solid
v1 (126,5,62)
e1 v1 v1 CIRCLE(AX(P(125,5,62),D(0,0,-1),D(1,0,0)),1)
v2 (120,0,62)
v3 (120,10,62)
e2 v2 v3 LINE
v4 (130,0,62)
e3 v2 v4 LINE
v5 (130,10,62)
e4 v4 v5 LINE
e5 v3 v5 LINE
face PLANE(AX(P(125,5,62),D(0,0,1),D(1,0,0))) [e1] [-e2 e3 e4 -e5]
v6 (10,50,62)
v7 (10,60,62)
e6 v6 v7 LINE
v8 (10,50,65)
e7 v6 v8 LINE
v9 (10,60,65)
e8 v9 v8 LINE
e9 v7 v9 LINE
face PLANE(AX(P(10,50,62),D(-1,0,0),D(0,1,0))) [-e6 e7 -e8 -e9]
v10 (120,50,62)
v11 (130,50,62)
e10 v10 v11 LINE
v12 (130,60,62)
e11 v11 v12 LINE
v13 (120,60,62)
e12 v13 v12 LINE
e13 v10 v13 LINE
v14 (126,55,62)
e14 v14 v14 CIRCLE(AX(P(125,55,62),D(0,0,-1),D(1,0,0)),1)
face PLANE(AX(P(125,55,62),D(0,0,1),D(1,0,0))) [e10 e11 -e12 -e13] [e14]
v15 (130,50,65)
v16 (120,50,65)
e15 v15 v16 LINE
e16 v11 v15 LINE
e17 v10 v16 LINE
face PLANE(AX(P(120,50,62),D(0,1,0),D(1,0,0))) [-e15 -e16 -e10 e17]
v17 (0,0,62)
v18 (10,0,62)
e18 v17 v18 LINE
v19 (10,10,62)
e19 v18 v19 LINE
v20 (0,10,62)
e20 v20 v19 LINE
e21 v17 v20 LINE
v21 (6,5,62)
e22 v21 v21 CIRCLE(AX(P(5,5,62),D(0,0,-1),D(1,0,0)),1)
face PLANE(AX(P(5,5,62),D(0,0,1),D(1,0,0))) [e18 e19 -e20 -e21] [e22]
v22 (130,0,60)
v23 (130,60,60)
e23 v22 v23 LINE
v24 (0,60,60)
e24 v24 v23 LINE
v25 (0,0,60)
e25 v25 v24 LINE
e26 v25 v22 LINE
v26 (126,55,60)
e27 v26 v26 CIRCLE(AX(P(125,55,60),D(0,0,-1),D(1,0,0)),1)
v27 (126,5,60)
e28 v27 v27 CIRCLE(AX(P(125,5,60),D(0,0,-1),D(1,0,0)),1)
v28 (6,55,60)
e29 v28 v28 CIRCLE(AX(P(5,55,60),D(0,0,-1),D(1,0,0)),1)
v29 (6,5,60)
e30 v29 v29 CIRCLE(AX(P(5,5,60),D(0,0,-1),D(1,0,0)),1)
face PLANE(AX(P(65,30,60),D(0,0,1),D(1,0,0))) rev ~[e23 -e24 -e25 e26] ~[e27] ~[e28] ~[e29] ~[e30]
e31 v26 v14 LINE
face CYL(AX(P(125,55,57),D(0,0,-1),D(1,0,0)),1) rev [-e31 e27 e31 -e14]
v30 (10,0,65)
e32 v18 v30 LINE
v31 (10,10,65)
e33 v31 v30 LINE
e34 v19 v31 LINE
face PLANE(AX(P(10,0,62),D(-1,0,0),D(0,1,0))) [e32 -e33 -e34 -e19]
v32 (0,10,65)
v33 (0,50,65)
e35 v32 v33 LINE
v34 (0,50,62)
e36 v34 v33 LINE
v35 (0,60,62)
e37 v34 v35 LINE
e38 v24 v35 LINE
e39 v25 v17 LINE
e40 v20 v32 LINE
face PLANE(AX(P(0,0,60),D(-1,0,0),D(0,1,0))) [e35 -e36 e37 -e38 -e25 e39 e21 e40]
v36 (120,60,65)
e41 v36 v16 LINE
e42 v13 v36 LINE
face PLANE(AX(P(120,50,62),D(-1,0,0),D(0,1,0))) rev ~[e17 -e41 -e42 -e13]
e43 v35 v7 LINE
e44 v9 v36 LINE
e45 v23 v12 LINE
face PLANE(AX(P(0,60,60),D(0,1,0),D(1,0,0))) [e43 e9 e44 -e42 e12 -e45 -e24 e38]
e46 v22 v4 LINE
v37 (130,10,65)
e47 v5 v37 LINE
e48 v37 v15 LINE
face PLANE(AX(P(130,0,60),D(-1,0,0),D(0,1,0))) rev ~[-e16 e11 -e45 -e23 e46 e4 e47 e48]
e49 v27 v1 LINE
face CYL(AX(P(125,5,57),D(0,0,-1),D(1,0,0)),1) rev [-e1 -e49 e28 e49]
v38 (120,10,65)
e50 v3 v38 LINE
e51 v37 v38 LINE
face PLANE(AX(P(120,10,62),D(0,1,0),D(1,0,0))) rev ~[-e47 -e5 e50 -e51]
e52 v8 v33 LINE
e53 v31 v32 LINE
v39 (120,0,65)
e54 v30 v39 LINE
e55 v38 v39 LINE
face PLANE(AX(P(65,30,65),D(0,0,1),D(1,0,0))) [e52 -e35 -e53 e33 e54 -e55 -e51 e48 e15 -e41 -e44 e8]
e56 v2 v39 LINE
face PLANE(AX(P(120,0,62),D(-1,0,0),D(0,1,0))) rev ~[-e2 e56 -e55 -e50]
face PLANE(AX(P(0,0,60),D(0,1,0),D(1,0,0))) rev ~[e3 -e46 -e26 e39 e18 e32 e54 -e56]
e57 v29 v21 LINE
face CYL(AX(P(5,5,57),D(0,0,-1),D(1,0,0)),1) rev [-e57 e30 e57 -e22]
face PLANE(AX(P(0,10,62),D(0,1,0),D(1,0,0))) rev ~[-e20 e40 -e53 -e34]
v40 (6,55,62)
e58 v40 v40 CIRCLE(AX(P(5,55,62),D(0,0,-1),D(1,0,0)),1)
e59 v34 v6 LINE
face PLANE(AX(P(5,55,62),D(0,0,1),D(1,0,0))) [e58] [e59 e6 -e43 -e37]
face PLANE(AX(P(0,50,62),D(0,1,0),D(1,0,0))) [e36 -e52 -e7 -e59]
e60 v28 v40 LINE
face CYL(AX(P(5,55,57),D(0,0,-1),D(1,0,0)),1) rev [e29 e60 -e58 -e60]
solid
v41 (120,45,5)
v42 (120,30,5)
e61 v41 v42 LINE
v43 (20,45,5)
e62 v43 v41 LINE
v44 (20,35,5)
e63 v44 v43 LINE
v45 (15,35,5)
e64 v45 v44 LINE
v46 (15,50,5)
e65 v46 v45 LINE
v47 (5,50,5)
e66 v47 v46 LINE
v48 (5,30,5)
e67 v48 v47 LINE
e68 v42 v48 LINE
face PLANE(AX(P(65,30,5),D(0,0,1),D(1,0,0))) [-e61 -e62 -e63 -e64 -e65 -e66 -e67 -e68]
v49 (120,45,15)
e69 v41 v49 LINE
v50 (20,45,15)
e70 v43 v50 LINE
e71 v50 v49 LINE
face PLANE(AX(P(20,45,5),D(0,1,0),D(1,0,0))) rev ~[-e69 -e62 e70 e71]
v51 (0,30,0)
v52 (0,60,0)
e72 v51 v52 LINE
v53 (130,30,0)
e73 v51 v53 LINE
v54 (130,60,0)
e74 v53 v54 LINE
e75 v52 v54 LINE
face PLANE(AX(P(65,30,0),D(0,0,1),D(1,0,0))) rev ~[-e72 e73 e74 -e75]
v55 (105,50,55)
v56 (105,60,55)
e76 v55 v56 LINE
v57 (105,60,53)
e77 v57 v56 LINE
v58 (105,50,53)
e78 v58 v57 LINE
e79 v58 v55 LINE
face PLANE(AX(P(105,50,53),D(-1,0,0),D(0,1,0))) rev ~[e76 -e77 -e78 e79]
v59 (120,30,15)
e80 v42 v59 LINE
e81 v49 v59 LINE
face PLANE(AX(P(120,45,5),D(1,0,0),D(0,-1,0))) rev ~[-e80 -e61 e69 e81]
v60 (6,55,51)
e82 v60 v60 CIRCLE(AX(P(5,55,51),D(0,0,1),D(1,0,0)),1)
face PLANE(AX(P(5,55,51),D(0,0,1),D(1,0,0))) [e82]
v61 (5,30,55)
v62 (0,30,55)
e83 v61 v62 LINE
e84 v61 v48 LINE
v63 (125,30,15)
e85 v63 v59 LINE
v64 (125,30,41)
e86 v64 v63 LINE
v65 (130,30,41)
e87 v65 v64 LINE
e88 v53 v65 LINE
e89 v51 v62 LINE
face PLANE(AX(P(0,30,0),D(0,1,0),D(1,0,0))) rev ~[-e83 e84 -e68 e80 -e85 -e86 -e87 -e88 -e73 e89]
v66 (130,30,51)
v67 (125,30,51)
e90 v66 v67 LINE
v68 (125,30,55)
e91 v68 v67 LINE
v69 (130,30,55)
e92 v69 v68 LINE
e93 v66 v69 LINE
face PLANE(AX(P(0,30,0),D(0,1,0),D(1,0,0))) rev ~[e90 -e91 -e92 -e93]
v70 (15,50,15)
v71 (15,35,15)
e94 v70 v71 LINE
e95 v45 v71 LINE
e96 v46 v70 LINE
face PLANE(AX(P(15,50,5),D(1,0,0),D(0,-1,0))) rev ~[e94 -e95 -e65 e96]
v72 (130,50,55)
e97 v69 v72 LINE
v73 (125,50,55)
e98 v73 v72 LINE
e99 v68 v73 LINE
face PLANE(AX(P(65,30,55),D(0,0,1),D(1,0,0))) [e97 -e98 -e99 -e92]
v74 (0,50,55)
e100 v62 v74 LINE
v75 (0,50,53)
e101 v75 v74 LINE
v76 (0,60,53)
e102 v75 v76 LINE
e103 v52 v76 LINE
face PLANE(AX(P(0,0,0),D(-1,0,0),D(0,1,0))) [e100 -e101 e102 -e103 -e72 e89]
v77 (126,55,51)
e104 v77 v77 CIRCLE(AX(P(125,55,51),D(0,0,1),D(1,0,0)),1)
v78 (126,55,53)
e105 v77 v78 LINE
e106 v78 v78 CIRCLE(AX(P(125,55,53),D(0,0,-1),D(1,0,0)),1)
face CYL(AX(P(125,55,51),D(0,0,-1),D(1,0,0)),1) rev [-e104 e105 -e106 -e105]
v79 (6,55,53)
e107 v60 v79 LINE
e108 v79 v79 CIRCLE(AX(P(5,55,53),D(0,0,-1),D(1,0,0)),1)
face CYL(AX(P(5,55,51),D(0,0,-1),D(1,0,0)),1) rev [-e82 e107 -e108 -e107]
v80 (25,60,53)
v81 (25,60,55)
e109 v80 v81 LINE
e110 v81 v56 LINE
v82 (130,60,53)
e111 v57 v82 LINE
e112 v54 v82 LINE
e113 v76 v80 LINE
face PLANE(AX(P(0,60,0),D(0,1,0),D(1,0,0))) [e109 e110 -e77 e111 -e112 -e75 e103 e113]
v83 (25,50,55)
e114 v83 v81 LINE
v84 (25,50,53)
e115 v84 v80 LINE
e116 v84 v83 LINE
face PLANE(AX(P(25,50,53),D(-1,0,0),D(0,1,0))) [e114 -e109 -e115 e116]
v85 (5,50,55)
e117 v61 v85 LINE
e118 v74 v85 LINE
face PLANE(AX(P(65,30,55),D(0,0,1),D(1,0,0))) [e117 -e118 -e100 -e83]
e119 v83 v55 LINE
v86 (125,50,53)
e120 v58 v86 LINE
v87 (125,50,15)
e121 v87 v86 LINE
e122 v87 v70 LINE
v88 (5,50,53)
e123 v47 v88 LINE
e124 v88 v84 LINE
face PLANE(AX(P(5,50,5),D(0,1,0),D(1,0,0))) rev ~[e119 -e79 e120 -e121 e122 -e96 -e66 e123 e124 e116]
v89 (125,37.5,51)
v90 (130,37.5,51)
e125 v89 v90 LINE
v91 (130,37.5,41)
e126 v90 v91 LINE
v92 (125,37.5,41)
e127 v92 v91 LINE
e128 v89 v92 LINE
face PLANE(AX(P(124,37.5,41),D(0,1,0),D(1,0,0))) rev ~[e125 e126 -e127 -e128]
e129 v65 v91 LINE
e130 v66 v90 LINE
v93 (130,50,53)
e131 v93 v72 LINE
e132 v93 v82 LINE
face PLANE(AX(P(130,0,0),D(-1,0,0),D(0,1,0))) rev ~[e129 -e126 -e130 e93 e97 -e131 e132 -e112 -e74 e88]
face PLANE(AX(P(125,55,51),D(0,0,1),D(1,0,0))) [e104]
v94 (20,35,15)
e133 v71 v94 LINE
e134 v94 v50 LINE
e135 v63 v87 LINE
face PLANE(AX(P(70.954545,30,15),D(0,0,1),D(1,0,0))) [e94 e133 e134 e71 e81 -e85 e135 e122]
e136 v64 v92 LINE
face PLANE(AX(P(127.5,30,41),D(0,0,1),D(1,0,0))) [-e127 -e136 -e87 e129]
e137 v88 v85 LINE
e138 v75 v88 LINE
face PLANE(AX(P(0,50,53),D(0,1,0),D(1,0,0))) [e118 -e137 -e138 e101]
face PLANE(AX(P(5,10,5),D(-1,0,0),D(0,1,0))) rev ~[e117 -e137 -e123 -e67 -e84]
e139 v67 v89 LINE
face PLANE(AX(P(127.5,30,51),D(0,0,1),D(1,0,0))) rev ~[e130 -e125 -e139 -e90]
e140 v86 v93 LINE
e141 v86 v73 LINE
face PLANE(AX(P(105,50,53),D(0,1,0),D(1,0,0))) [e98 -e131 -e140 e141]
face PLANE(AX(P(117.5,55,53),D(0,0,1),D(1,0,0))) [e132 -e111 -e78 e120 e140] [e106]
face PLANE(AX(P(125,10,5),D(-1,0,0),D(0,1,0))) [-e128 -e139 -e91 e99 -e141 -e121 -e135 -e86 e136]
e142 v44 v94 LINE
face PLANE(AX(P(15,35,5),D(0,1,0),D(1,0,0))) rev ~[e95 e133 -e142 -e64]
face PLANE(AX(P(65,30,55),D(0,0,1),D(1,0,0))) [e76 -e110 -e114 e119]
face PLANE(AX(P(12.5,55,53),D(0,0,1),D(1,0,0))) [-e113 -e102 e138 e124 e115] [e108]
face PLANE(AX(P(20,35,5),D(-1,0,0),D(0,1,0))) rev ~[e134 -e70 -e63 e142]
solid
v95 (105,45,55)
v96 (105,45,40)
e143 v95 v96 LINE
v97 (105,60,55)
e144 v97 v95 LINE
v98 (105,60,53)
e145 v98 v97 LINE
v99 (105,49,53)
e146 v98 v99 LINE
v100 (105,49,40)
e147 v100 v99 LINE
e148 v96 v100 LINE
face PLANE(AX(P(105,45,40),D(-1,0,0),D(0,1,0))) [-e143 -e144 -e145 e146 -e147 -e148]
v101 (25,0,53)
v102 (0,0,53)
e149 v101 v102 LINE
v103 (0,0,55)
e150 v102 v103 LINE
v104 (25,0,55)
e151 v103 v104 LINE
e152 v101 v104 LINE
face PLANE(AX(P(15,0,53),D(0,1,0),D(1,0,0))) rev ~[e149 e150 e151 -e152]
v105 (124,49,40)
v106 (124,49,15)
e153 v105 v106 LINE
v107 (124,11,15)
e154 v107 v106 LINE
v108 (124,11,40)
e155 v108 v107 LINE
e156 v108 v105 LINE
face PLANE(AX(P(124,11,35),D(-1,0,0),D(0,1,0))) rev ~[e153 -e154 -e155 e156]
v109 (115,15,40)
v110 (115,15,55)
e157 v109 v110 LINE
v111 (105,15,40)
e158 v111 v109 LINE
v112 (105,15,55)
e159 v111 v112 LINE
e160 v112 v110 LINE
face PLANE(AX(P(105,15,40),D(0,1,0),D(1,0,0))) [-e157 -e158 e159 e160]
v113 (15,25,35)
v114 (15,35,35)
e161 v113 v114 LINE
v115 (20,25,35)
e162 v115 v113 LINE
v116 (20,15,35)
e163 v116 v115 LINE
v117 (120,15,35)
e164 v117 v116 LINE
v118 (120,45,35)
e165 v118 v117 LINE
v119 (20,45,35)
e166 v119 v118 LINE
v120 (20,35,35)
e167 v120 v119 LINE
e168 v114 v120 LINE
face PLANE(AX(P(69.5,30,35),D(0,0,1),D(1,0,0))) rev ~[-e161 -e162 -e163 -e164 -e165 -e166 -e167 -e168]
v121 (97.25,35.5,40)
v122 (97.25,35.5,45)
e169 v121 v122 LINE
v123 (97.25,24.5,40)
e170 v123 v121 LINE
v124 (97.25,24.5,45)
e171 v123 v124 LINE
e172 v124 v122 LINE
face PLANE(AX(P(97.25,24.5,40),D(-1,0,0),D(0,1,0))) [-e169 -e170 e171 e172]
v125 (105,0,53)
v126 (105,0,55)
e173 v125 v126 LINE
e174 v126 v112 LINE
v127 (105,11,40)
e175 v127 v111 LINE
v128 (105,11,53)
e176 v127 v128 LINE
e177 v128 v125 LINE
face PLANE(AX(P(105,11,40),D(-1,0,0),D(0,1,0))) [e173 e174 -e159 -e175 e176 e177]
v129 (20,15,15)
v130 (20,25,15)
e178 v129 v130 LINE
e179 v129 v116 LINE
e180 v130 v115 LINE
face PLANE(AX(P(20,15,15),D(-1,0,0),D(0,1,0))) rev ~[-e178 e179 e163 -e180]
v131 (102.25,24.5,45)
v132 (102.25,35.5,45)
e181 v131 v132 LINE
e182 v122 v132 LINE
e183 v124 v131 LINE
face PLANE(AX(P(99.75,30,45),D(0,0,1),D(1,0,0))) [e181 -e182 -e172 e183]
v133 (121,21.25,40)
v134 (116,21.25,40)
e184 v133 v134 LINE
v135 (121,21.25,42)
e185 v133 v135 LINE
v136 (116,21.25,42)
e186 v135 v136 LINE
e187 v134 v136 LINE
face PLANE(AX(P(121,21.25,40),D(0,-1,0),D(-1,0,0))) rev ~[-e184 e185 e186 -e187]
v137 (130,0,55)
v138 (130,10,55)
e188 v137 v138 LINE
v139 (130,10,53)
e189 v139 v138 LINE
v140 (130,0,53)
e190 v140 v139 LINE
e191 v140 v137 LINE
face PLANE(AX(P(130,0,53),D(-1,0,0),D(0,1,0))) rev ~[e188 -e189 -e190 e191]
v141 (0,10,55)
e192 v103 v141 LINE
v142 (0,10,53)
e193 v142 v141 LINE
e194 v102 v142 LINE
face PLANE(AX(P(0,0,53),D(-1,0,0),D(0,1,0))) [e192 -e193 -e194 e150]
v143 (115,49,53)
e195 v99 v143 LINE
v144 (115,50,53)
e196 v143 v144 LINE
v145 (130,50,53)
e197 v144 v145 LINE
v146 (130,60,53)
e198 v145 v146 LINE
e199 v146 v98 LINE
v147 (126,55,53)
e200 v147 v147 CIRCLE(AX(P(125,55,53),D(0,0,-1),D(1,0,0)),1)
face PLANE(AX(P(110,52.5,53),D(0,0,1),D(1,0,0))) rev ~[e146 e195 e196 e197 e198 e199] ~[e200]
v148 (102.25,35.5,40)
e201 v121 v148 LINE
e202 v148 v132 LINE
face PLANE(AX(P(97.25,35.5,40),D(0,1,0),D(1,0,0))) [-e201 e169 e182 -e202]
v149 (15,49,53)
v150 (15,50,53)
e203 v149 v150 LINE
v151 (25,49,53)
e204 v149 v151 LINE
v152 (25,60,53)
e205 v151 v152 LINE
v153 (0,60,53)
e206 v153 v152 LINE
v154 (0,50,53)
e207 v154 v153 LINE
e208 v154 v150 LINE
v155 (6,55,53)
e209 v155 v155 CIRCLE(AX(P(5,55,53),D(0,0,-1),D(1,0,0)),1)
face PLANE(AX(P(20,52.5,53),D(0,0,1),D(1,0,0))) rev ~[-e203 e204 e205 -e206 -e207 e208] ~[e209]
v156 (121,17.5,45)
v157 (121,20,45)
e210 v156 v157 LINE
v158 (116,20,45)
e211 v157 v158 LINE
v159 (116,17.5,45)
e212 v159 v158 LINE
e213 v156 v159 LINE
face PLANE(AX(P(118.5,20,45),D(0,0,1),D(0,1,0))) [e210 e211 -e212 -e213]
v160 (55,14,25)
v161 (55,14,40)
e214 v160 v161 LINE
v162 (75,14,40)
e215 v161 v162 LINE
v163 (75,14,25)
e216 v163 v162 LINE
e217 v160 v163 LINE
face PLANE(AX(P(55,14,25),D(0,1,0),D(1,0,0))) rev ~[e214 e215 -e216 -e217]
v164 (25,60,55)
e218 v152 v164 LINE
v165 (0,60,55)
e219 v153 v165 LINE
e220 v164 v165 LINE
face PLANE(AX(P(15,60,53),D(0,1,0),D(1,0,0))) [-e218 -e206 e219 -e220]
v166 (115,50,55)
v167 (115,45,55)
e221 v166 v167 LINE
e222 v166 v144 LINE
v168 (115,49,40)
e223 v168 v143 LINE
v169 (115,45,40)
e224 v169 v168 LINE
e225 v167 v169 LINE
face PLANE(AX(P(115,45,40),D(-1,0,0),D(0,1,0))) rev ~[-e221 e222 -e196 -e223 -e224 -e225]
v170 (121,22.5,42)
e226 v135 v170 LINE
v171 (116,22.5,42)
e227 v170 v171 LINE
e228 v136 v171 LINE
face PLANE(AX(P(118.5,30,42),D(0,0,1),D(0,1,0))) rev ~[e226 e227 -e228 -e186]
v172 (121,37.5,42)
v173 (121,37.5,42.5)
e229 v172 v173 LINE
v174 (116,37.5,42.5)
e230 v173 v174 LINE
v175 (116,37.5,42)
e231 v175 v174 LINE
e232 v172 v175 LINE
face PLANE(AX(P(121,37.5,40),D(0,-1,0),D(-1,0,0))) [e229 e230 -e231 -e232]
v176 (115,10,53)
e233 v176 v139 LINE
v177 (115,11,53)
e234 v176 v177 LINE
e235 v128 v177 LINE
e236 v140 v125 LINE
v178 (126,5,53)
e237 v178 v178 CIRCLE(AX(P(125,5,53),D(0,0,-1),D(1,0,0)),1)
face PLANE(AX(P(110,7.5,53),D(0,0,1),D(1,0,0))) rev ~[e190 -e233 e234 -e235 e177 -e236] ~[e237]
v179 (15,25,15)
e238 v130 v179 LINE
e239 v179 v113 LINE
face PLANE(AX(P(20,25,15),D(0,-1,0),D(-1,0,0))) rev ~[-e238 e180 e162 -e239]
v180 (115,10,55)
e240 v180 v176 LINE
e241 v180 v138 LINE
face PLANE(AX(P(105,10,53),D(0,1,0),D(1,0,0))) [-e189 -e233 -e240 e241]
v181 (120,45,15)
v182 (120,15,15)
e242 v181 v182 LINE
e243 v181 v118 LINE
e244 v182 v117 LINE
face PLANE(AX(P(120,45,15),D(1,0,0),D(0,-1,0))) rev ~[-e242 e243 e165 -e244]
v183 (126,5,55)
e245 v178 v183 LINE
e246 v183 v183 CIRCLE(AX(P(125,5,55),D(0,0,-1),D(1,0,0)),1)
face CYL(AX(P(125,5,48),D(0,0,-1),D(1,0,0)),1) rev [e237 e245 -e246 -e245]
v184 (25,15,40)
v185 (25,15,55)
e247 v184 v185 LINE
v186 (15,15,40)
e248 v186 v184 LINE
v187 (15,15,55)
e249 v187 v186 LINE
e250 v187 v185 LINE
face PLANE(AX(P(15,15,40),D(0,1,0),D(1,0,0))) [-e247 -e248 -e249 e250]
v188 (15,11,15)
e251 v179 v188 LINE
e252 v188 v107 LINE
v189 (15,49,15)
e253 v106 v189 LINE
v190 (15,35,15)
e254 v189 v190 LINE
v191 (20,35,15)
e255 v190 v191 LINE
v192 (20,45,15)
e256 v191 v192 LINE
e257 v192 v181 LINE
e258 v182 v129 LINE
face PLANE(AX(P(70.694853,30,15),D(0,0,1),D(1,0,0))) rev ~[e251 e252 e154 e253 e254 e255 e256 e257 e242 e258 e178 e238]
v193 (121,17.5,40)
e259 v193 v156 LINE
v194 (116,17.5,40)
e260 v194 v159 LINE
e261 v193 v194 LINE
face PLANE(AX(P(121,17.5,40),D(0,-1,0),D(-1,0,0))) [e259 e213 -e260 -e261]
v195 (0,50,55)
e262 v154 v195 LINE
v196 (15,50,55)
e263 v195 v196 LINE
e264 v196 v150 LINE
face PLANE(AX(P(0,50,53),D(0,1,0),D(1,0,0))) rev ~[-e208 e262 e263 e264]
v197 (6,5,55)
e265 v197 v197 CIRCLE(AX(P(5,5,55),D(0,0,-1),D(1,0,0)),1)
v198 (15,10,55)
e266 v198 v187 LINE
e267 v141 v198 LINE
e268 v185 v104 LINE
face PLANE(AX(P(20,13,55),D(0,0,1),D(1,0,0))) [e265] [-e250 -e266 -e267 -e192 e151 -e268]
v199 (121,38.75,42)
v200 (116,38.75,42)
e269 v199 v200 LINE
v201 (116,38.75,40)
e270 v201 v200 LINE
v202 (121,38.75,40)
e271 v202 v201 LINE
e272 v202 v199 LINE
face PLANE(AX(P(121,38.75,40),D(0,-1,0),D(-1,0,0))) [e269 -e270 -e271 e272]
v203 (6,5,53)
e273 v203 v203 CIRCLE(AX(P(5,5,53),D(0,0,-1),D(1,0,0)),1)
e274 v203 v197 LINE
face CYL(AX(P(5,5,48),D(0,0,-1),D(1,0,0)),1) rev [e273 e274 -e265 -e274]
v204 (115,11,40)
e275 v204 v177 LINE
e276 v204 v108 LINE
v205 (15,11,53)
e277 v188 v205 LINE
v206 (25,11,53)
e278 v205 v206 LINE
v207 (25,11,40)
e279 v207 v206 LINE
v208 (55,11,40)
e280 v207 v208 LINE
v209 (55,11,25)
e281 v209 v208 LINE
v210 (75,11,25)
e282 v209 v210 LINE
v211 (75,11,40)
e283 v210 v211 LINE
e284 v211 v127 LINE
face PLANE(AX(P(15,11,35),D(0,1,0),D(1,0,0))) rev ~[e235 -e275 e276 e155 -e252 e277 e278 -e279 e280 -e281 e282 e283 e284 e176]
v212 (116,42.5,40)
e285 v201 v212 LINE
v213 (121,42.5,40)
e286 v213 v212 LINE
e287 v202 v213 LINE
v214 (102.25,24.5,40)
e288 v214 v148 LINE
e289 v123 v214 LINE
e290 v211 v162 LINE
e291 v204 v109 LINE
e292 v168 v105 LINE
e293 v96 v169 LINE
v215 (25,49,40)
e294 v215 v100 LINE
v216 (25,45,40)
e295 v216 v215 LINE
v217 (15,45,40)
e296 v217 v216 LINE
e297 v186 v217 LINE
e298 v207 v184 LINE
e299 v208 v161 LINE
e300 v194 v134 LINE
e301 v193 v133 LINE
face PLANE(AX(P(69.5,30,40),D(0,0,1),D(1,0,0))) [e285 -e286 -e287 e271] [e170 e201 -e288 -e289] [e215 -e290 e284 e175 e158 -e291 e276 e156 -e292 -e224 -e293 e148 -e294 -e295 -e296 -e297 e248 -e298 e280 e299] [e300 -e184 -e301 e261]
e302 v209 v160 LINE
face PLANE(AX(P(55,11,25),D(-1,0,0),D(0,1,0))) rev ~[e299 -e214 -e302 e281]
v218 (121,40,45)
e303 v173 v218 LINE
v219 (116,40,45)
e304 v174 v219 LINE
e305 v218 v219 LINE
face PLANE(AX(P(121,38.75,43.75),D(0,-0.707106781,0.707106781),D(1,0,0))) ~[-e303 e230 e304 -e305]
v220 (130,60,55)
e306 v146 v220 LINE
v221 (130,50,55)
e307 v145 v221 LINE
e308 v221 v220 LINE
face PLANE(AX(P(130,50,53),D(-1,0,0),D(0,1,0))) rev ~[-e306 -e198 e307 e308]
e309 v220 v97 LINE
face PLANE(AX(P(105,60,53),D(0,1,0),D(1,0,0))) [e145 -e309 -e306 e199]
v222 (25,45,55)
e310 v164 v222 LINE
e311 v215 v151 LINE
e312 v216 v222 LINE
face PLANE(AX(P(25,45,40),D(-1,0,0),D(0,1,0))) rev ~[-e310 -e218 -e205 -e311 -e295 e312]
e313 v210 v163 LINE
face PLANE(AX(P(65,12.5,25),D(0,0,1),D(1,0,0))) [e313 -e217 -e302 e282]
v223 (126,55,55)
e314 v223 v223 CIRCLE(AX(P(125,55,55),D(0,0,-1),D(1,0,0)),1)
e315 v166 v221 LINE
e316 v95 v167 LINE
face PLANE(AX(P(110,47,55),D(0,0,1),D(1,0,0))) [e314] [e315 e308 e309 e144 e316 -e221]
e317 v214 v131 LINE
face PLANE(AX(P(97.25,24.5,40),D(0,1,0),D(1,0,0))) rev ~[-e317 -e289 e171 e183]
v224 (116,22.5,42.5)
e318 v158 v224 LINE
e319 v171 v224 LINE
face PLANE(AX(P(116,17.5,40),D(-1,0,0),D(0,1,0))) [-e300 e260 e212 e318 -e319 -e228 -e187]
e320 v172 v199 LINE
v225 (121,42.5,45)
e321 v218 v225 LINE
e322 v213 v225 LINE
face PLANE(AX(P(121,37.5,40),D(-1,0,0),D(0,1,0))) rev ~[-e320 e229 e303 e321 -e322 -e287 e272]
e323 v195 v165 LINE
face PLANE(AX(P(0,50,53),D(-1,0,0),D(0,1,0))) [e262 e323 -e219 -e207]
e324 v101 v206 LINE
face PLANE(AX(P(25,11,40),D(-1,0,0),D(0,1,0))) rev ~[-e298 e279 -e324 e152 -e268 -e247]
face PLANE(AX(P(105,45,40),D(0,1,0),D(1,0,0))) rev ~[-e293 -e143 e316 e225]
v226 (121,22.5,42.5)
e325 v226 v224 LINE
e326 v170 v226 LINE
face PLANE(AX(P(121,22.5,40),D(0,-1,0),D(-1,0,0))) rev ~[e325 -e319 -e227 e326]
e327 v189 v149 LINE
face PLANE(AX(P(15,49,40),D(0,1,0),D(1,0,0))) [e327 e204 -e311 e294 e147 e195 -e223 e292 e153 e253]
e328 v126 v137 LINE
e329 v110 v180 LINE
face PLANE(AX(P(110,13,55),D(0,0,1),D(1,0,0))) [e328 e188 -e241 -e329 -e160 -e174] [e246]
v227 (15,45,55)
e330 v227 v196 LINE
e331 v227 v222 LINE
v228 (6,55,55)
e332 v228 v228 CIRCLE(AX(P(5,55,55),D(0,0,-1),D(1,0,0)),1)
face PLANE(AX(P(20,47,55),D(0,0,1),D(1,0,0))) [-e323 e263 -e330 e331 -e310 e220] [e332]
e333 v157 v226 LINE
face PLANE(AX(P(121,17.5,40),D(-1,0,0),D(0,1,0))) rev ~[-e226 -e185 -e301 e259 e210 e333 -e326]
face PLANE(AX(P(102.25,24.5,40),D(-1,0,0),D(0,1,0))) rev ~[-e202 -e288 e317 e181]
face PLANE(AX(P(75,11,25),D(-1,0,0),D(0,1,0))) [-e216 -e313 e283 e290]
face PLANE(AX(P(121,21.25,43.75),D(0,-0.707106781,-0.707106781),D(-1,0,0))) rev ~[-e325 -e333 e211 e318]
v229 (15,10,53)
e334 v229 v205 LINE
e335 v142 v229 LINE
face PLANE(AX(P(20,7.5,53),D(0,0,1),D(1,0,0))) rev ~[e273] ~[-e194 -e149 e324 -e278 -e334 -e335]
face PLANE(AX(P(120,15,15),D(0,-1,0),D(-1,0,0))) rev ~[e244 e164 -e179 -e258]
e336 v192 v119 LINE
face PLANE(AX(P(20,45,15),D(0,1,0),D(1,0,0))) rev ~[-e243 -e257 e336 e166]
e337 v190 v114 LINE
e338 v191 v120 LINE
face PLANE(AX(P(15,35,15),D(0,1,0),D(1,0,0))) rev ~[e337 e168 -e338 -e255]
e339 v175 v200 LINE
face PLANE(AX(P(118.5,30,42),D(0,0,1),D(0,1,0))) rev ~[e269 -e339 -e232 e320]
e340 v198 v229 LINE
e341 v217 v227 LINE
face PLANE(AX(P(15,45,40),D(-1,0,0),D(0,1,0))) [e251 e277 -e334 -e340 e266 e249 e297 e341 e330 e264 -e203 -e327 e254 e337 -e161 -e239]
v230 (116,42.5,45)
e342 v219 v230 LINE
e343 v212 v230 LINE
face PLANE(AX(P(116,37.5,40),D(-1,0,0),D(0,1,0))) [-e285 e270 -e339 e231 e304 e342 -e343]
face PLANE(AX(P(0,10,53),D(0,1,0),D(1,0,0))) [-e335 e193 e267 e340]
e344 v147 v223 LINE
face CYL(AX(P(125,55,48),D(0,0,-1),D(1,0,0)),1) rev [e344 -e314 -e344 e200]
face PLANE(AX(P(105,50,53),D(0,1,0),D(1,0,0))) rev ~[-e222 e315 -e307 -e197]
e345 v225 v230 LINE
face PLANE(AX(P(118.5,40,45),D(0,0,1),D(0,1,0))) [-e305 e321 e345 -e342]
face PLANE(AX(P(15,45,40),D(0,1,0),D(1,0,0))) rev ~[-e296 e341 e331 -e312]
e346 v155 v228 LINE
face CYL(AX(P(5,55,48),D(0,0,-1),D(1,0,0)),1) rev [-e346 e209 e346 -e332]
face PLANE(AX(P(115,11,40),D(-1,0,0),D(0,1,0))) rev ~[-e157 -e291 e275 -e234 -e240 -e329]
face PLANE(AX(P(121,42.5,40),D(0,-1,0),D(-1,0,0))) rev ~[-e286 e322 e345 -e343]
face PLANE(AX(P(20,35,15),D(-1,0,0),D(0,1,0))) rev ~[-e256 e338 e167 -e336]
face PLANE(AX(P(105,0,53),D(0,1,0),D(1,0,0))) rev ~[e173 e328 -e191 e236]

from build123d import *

# Parameters (mm, degrees)
CYLINDER002_R           = 1
CYLINDER002_DEPTH       = 20
BOX007_W                = 10
BOX007_H                = 10
BOX007_DEPTH            = 10
ARRAY005_X_COUNT        = 2
ARRAY005_X_PITCH        = 120
ARRAY005_Y_COUNT        = 2
ARRAY005_Y_PITCH        = 50
BOX002_W                = 130
BOX002_H                = 60
BOX002_DEPTH            = 5
BOX015_W                = 20
BOX015_H                = 3
BOX015_DEPTH            = 15
CYLINDER003_R           = 1
CYLINDER003_DEPTH       = 10
ARRAY009_X_COUNT        = 2
ARRAY009_X_PITCH        = 120
ARRAY009_Y_COUNT        = 2
ARRAY009_Y_PITCH        = 50
BOX011_W                = 25
BOX011_H                = 10
BOX011_DEPTH            = 2
ARRAY008_X_COUNT        = 2
ARRAY008_X_PITCH        = 105
ARRAY008_Y_COUNT        = 2
ARRAY008_Y_PITCH        = 50
BOX010_W                = 10
BOX010_H                = 15
BOX010_DEPTH            = 2
ARRAY007_X_COUNT        = 2
ARRAY007_X_PITCH        = 90
ARRAY007_Y_COUNT        = 2
ARRAY007_Y_PITCH        = 45
BOX009_W                = 10
BOX009_H                = 4
BOX009_DEPTH            = 15
ARRAY006_X_COUNT        = 2
ARRAY006_X_PITCH        = 90
ARRAY006_Y_COUNT        = 2
ARRAY006_Y_PITCH        = 34
BOX008_W                = 109
BOX008_H                = 38
BOX008_DEPTH            = 5
PAD001_DEPTH            = 20
SKETCH002_W             = 5
SKETCH002_H             = 11
PAD002_DEPTH            = 5
BOX013_W                = 17.5
BOX013_H                = 5
BOX013_DEPTH            = 2
BOX012_W                = 5
BOX012_H                = 5
BOX012_DEPTH            = 5
ARRAY010_X_COUNT        = 2
ARRAY010_X_PITCH        = 20
CHAMFER_SIZE            = 2.5
CHAMFER_PLACEMENT_ANGLE = 90
BOX016_W                = 130
BOX016_H                = 30
BOX016_DEPTH            = 60
BOX014_W                = 7
BOX014_H                = 15
BOX014_DEPTH            = 10
CYLINDER001_R           = 1
CYLINDER001_DEPTH       = 3
ARRAY004_X_COUNT        = 2
ARRAY004_X_PITCH        = 120
ARRAY004_Y_COUNT        = 2
ARRAY004_Y_PITCH        = 50
CYLINDER_R              = 1.5
CYLINDER_DEPTH          = 30
CYLINDER_ROLL_ANGLE     = 90
ARRAY003_X_COUNT        = 2
ARRAY003_X_PITCH        = 50
ARRAY003_Y_COUNT        = 2
ARRAY003_Y_PITCH        = 20
BOX006_W                = 25
BOX006_H                = 10
BOX006_DEPTH            = 2
ARRAY002_X_COUNT        = 2
ARRAY002_X_PITCH        = 105
ARRAY002_Y_COUNT        = 2
ARRAY002_Y_PITCH        = 50
BOX005_W                = 10
BOX005_H                = 10
BOX005_DEPTH            = 10
ARRAY001_X_COUNT        = 2
ARRAY001_X_PITCH        = 50
BOX004_W                = 10
BOX004_H                = 2
BOX004_DEPTH            = 10
ARRAY_X_COUNT           = 2
ARRAY_X_PITCH           = 50
ARRAY_Y_COUNT           = 2
ARRAY_Y_PITCH           = 20
BOX003_W                = 60
BOX003_H                = 10
BOX003_DEPTH            = 30
BOX001_W                = 120
BOX001_H                = 40
BOX001_DEPTH            = 50
BOX_W                   = 130
BOX_H                   = 60
BOX_DEPTH               = 55
PAD_DEPTH               = 10


with BuildPart() as cilindro002:
    # Cylinder002 → Cylinder002 (new body)
    with BuildSketch(Plane(origin=(5, 5, -5), x_dir=(1, 0, 0), z_dir=(0, 0, 1))):
        Circle(CYLINDER002_R)
    extrude(amount=CYLINDER002_DEPTH)


with BuildPart() as huecostapa:
    # Box007 → Box007 (new body)
    with BuildSketch(Plane.XY):
        with Locations((5, 5)):
            Rectangle(BOX007_W, BOX007_H)
    extrude(amount=BOX007_DEPTH)

    # Fusion: union Cilindro002
    add(cilindro002.part)

    # Array005 X: HuecosTapa ×2


with BuildPart() as huecostapa_1:
    add(huecostapa.part)
    with Locations(*[(i * ARRAY005_X_PITCH, 0, 0) for i in range(1, ARRAY005_X_COUNT)]):
        add(huecostapa.part)

    # Array005 Y: HuecosTapa ×2


with BuildPart() as huecostapa_2:
    add(huecostapa_1.part)
    with Locations(*[(0, i * ARRAY005_Y_PITCH, 0) for i in range(1, ARRAY005_Y_COUNT)]):
        add(huecostapa_1.part)


with BuildPart() as huecostapa_3:
    # Array005 placement: moved
    add(huecostapa_2.part.moved(Location((0, 0, 62))))


with BuildPart() as tapa:
    # Box002 → Box002 (new body)
    with BuildSketch(Plane.XY.offset(60)):
        with Locations((65, 30)):
            Rectangle(BOX002_W, BOX002_H)
    extrude(amount=BOX002_DEPTH)

    # Cut007: cut HuecosTapa
    add(huecostapa_3.part, mode=Mode.SUBTRACT)


with BuildPart() as hueco_tornillo_conector:
    # Box015 → Box015 (new body)
    with BuildSketch(Plane(origin=(55, 11, 25), x_dir=(1, 0, 0), z_dir=(0, 0, 1))):
        with Locations((10, 1.5)):
            Rectangle(BOX015_W, BOX015_H)
    extrude(amount=BOX015_DEPTH)


with BuildPart() as array009:
    # Cylinder003 → Cylinder003 (new body)
    with BuildSketch(Plane.XY):
        Circle(CYLINDER003_R)
    extrude(amount=CYLINDER003_DEPTH)

    # Array009 X: Array009 ×2


with BuildPart() as array009_1:
    add(array009.part)
    with Locations(*[(i * ARRAY009_X_PITCH, 0, 0) for i in range(1, ARRAY009_X_COUNT)]):
        add(array009.part)

    # Array009 Y: Array009 ×2


with BuildPart() as array009_2:
    add(array009_1.part)
    with Locations(*[(0, i * ARRAY009_Y_PITCH, 0) for i in range(1, ARRAY009_Y_COUNT)]):
        add(array009_1.part)


with BuildPart() as array009_3:
    # Array009 placement: moved
    add(array009_2.part.moved(Location((-10, -6, 13))))


with BuildPart() as array008:
    # Box011 → Box011 (new body)
    with BuildSketch(Plane(origin=(-15, -11, 18), x_dir=(1, 0, 0), z_dir=(0, 0, 1))):
        with Locations((12.5, 5)):
            Rectangle(BOX011_W, BOX011_H)
    extrude(amount=BOX011_DEPTH)

    # Array008 X: Array008 ×2


with BuildPart() as array008_1:
    add(array008.part)
    with Locations(*[(i * ARRAY008_X_PITCH, 0, 0) for i in range(1, ARRAY008_X_COUNT)]):
        add(array008.part)

    # Array008 Y: Array008 ×2


with BuildPart() as array008_2:
    add(array008_1.part)
    with Locations(*[(0, i * ARRAY008_Y_PITCH, 0) for i in range(1, ARRAY008_Y_COUNT)]):
        add(array008_1.part)


with BuildPart() as array007:
    # Box010 → Box010 (new body)
    with BuildSketch(Plane(origin=(0, -11, 18), x_dir=(1, 0, 0), z_dir=(0, 0, 1))):
        with Locations((5, 7.5)):
            Rectangle(BOX010_W, BOX010_H)
    extrude(amount=BOX010_DEPTH)

    # Array007 X: Array007 ×2


with BuildPart() as array007_1:
    add(array007.part)
    with Locations(*[(i * ARRAY007_X_PITCH, 0, 0) for i in range(1, ARRAY007_X_COUNT)]):
        add(array007.part)

    # Array007 Y: Array007 ×2


with BuildPart() as array007_2:
    add(array007_1.part)
    with Locations(*[(0, i * ARRAY007_Y_PITCH, 0) for i in range(1, ARRAY007_Y_COUNT)]):
        add(array007_1.part)


with BuildPart() as array006:
    # Box009 → Box009 (new body)
    with BuildSketch(Plane.XY.offset(5)):
        with Locations((5, 2)):
            Rectangle(BOX009_W, BOX009_H)
    extrude(amount=BOX009_DEPTH)

    # Array006 X: Array006 ×2


with BuildPart() as array006_1:
    add(array006.part)
    with Locations(*[(i * ARRAY006_X_PITCH, 0, 0) for i in range(1, ARRAY006_X_COUNT)]):
        add(array006.part)

    # Array006 Y: Array006 ×2


with BuildPart() as array006_2:
    add(array006_1.part)
    with Locations(*[(0, i * ARRAY006_Y_PITCH, 0) for i in range(1, ARRAY006_Y_COUNT)]):
        add(array006_1.part)


with BuildPart() as cut008:
    # Box008 → Box008 (new body)
    with BuildSketch(Plane.XY):
        with Locations((54.5, 19)):
            Rectangle(BOX008_W, BOX008_H)
    extrude(amount=BOX008_DEPTH)

    # Fusion001: union Array006
    add(array006_2.part)

    # Fusion002: union Array007
    add(array007_2.part)

    # Fusion003: union Array008
    add(array008_2.part)

    # Cut008: cut Array009
    add(array009_3.part, mode=Mode.SUBTRACT)


with BuildPart() as cut008_1:
    # Cut008 placement: moved
    add(cut008.part.moved(Location((0, 0, 20))))


with BuildPart() as cut011:
    # Sketch001 → Pad001 (new body)
    with BuildSketch(Plane.XY):
        Polygon((0, 24), (5, 24), (5, 34), (105, 34), (105, 4), (5, 4), (5, 14), (0, 14), (0, 0), (109, 0), (109, 38), (0, 38), align=None)
    extrude(amount=PAD001_DEPTH)

    # Fusion004: union Cut008
    add(cut008_1.part)


with BuildPart() as cut011_1:
    # Fusion004 placement: moved
    add(cut011.part.moved(Location((15, 11, 15))))

    # Sketch002 (on Face19 of Fusion004) → Pad002 (new body)
    with BuildSketch(Plane(origin=(15, 11, 40), x_dir=(1, 0, 0), z_dir=(0, 0, 1))):
        with Locations((84.75, 19)):
            Rectangle(SKETCH002_W, SKETCH002_H)
    extrude(amount=PAD002_DEPTH)

    # Cut011: cut Hueco_Tornillo_Conector
    add(hueco_tornillo_conector.part, mode=Mode.SUBTRACT)


with BuildPart() as clavijas_hueco:
    # Box013 → Box013 (new body)
    with BuildSketch(Plane(origin=(3.75, 0, 0), x_dir=(1, 0, 0), z_dir=(0, 0, 1))):
        with Locations((8.75, 2.5)):
            Rectangle(BOX013_W, BOX013_H)
    extrude(amount=BOX013_DEPTH)


with BuildPart() as soporte:
    # Box012 → Box012 (new body)
    with BuildSketch(Plane.XY):
        with Locations((2.5, 2.5)):
            Rectangle(BOX012_W, BOX012_H)
    extrude(amount=BOX012_DEPTH)

    # Array010 X: Soporte ×2


with BuildPart() as soporte_1:
    add(soporte.part)
    with Locations(*[(i * ARRAY010_X_PITCH, 0, 0) for i in range(1, ARRAY010_X_COUNT)]):
        add(soporte.part)

    # Cut009: cut Clavijas_hueco
    add(clavijas_hueco.part, mode=Mode.SUBTRACT)

    # Chamfer
    chamfer_edges = [soporte_1.edges().sort_by_distance(p)[0] for p in [
        (5, 2.5, 5),
        (20, 2.5, 5),
    ]]
    chamfer(chamfer_edges, length=CHAMFER_SIZE)


with BuildPart() as soporte_2:
    # Chamfer placement: moved
    add(soporte_1.part.moved(Location((121, 17.5, 40))).rotate(Axis((121, 17.5, 40), (0, 0, 1)), CHAMFER_PLACEMENT_ANGLE))

    # Fusion005: union Cut011
    add(cut011_1.part)


with BuildPart() as corte:
    # Box016 → Box016 (new body)
    with BuildSketch(Plane.XY):
        with Locations((65, 15)):
            Rectangle(BOX016_W, BOX016_H)
    extrude(amount=BOX016_DEPTH)


with BuildPart() as huecousb:
    # Box014 → Box014 (new body)
    with BuildSketch(Plane(origin=(124, 22.5, 41), x_dir=(1, 0, 0), z_dir=(0, 0, 1))):
        with Locations((3.5, 7.5)):
            Rectangle(BOX014_W, BOX014_H)
    extrude(amount=BOX014_DEPTH)


with BuildPart() as array004:
    # Cylinder001 → Cylinder001 (new body)
    with BuildSketch(Plane.XY):
        Circle(CYLINDER001_R)
    extrude(amount=CYLINDER001_DEPTH)

    # Array004 X: Array004 ×2


with BuildPart() as array004_1:
    add(array004.part)
    with Locations(*[(i * ARRAY004_X_PITCH, 0, 0) for i in range(1, ARRAY004_X_COUNT)]):
        add(array004.part)

    # Array004 Y: Array004 ×2


with BuildPart() as array004_2:
    add(array004_1.part)
    with Locations(*[(0, i * ARRAY004_Y_PITCH, 0) for i in range(1, ARRAY004_Y_COUNT)]):
        add(array004_1.part)


with BuildPart() as array004_3:
    # Array004 placement: moved
    add(array004_2.part.moved(Location((5, 5, 51))))


with BuildPart() as array003:
    # Cylinder → Cylinder (new body)
    with BuildSketch(Plane.XY):
        Circle(CYLINDER_R)
    extrude(amount=CYLINDER_DEPTH)


with BuildPart() as array003_1:
    # Cylinder roll: moved
    add(array003.part.rotate(Axis((0, 0, 0), (1, 0, 0)), CYLINDER_ROLL_ANGLE))


with BuildPart() as array003_2:
    # Cylinder placement: moved
    add(array003_1.part)

    # Array003 X: Array003 ×2


with BuildPart() as array003_3:
    add(array003_2.part)
    with Locations(*[(i * ARRAY003_X_PITCH, 0, 0) for i in range(1, ARRAY003_X_COUNT)]):
        add(array003_2.part)

    # Array003 Y: Array003 ×2


with BuildPart() as array003_4:
    add(array003_3.part)
    with Locations(*[(0, 0, i * ARRAY003_Y_PITCH) for i in range(1, ARRAY003_Y_COUNT)]):
        add(array003_3.part)


with BuildPart() as array003_5:
    # Array003 placement: moved
    add(array003_4.part.moved(Location((40, 15, 20))))


with BuildPart() as array002:
    # Box006 → Box006 (new body)
    with BuildSketch(Plane.XY):
        with Locations((12.5, 5)):
            Rectangle(BOX006_W, BOX006_H)
    extrude(amount=BOX006_DEPTH)

    # Array002 X: Array002 ×2


with BuildPart() as array002_1:
    add(array002.part)
    with Locations(*[(i * ARRAY002_X_PITCH, 0, 0) for i in range(1, ARRAY002_X_COUNT)]):
        add(array002.part)

    # Array002 Y: Array002 ×2


with BuildPart() as array002_2:
    add(array002_1.part)
    with Locations(*[(0, i * ARRAY002_Y_PITCH, 0) for i in range(1, ARRAY002_Y_COUNT)]):
        add(array002_1.part)


with BuildPart() as array002_3:
    # Array002 placement: moved
    add(array002_2.part.moved(Location((0, 0, 53))))


with BuildPart() as array001:
    # Box005 → Box005 (new body)
    with BuildSketch(Plane(origin=(35, 0, 25), x_dir=(1, 0, 0), z_dir=(0, 0, 1))):
        with Locations((5, 5)):
            Rectangle(BOX005_W, BOX005_H)
    extrude(amount=BOX005_DEPTH)

    # Array001 X: Array001 ×2


with BuildPart() as array001_1:
    add(array001.part)
    with Locations(*[(i * ARRAY001_X_PITCH, 0, 0) for i in range(1, ARRAY001_X_COUNT)]):
        add(array001.part)


with BuildPart() as array:
    # Box004 → Box004 (new body)
    with BuildSketch(Plane.XY):
        with Locations((5, 1)):
            Rectangle(BOX004_W, BOX004_H)
    extrude(amount=BOX004_DEPTH)

    # Array X: Array ×2


with BuildPart() as array_1:
    add(array.part)
    with Locations(*[(i * ARRAY_X_PITCH, 0, 0) for i in range(1, ARRAY_X_COUNT)]):
        add(array.part)

    # Array Y: Array ×2


with BuildPart() as array_2:
    add(array_1.part)
    with Locations(*[(0, 0, i * ARRAY_Y_PITCH) for i in range(1, ARRAY_Y_COUNT)]):
        add(array_1.part)


with BuildPart() as array_3:
    # Array placement: moved
    add(array_2.part.moved(Location((0, 5, 0))))


with BuildPart() as cut002:
    # Box003 → Box003 (new body)
    with BuildSketch(Plane.XY):
        with Locations((30, 5)):
            Rectangle(BOX003_W, BOX003_H)
    extrude(amount=BOX003_DEPTH)

    # Cut001: cut Array
    add(array_3.part, mode=Mode.SUBTRACT)


with BuildPart() as cut002_1:
    # Cut001 placement: moved
    add(cut002.part.moved(Location((35, 0, 15))))

    # Cut002: cut Array001
    add(array001_1.part, mode=Mode.SUBTRACT)


with BuildPart() as interior:
    # Box001 → Box001 (new body)
    with BuildSketch(Plane(origin=(5, 10, 5), x_dir=(1, 0, 0), z_dir=(0, 0, 1))):
        with Locations((60, 20)):
            Rectangle(BOX001_W, BOX001_H)
    extrude(amount=BOX001_DEPTH)


with BuildPart() as seccionxz:
    # Box → Box (new body)
    with BuildSketch(Plane.XY):
        with Locations((65, 30)):
            Rectangle(BOX_W, BOX_H)
    extrude(amount=BOX_DEPTH)

    # Cut: cut Interior
    add(interior.part, mode=Mode.SUBTRACT)

    # Cut003: cut Cut002
    add(cut002_1.part, mode=Mode.SUBTRACT)

    # Cut004: cut Array002
    add(array002_3.part, mode=Mode.SUBTRACT)

    # Sketch (on Face54 of Cut004) → Pad (new body)
    with BuildSketch(Plane.XY.offset(5)):
        Polygon((15, 35), (20, 35), (20, 45), (120, 45), (120, 15), (20, 15), (20, 25), (15, 25), (15, 10), (125, 10), (125, 50), (15, 50), align=None)
    extrude(amount=PAD_DEPTH)

    # Cut005: cut Array003
    add(array003_5.part, mode=Mode.SUBTRACT)

    # Cut006: cut Array004
    add(array004_3.part, mode=Mode.SUBTRACT)

    # Cut010: cut HuecoUSB
    add(huecousb.part, mode=Mode.SUBTRACT)

    # Cut012: cut Corte
    add(corte.part, mode=Mode.SUBTRACT)


solid = Compound([tapa.part, soporte_2.part, seccionxz.part])
